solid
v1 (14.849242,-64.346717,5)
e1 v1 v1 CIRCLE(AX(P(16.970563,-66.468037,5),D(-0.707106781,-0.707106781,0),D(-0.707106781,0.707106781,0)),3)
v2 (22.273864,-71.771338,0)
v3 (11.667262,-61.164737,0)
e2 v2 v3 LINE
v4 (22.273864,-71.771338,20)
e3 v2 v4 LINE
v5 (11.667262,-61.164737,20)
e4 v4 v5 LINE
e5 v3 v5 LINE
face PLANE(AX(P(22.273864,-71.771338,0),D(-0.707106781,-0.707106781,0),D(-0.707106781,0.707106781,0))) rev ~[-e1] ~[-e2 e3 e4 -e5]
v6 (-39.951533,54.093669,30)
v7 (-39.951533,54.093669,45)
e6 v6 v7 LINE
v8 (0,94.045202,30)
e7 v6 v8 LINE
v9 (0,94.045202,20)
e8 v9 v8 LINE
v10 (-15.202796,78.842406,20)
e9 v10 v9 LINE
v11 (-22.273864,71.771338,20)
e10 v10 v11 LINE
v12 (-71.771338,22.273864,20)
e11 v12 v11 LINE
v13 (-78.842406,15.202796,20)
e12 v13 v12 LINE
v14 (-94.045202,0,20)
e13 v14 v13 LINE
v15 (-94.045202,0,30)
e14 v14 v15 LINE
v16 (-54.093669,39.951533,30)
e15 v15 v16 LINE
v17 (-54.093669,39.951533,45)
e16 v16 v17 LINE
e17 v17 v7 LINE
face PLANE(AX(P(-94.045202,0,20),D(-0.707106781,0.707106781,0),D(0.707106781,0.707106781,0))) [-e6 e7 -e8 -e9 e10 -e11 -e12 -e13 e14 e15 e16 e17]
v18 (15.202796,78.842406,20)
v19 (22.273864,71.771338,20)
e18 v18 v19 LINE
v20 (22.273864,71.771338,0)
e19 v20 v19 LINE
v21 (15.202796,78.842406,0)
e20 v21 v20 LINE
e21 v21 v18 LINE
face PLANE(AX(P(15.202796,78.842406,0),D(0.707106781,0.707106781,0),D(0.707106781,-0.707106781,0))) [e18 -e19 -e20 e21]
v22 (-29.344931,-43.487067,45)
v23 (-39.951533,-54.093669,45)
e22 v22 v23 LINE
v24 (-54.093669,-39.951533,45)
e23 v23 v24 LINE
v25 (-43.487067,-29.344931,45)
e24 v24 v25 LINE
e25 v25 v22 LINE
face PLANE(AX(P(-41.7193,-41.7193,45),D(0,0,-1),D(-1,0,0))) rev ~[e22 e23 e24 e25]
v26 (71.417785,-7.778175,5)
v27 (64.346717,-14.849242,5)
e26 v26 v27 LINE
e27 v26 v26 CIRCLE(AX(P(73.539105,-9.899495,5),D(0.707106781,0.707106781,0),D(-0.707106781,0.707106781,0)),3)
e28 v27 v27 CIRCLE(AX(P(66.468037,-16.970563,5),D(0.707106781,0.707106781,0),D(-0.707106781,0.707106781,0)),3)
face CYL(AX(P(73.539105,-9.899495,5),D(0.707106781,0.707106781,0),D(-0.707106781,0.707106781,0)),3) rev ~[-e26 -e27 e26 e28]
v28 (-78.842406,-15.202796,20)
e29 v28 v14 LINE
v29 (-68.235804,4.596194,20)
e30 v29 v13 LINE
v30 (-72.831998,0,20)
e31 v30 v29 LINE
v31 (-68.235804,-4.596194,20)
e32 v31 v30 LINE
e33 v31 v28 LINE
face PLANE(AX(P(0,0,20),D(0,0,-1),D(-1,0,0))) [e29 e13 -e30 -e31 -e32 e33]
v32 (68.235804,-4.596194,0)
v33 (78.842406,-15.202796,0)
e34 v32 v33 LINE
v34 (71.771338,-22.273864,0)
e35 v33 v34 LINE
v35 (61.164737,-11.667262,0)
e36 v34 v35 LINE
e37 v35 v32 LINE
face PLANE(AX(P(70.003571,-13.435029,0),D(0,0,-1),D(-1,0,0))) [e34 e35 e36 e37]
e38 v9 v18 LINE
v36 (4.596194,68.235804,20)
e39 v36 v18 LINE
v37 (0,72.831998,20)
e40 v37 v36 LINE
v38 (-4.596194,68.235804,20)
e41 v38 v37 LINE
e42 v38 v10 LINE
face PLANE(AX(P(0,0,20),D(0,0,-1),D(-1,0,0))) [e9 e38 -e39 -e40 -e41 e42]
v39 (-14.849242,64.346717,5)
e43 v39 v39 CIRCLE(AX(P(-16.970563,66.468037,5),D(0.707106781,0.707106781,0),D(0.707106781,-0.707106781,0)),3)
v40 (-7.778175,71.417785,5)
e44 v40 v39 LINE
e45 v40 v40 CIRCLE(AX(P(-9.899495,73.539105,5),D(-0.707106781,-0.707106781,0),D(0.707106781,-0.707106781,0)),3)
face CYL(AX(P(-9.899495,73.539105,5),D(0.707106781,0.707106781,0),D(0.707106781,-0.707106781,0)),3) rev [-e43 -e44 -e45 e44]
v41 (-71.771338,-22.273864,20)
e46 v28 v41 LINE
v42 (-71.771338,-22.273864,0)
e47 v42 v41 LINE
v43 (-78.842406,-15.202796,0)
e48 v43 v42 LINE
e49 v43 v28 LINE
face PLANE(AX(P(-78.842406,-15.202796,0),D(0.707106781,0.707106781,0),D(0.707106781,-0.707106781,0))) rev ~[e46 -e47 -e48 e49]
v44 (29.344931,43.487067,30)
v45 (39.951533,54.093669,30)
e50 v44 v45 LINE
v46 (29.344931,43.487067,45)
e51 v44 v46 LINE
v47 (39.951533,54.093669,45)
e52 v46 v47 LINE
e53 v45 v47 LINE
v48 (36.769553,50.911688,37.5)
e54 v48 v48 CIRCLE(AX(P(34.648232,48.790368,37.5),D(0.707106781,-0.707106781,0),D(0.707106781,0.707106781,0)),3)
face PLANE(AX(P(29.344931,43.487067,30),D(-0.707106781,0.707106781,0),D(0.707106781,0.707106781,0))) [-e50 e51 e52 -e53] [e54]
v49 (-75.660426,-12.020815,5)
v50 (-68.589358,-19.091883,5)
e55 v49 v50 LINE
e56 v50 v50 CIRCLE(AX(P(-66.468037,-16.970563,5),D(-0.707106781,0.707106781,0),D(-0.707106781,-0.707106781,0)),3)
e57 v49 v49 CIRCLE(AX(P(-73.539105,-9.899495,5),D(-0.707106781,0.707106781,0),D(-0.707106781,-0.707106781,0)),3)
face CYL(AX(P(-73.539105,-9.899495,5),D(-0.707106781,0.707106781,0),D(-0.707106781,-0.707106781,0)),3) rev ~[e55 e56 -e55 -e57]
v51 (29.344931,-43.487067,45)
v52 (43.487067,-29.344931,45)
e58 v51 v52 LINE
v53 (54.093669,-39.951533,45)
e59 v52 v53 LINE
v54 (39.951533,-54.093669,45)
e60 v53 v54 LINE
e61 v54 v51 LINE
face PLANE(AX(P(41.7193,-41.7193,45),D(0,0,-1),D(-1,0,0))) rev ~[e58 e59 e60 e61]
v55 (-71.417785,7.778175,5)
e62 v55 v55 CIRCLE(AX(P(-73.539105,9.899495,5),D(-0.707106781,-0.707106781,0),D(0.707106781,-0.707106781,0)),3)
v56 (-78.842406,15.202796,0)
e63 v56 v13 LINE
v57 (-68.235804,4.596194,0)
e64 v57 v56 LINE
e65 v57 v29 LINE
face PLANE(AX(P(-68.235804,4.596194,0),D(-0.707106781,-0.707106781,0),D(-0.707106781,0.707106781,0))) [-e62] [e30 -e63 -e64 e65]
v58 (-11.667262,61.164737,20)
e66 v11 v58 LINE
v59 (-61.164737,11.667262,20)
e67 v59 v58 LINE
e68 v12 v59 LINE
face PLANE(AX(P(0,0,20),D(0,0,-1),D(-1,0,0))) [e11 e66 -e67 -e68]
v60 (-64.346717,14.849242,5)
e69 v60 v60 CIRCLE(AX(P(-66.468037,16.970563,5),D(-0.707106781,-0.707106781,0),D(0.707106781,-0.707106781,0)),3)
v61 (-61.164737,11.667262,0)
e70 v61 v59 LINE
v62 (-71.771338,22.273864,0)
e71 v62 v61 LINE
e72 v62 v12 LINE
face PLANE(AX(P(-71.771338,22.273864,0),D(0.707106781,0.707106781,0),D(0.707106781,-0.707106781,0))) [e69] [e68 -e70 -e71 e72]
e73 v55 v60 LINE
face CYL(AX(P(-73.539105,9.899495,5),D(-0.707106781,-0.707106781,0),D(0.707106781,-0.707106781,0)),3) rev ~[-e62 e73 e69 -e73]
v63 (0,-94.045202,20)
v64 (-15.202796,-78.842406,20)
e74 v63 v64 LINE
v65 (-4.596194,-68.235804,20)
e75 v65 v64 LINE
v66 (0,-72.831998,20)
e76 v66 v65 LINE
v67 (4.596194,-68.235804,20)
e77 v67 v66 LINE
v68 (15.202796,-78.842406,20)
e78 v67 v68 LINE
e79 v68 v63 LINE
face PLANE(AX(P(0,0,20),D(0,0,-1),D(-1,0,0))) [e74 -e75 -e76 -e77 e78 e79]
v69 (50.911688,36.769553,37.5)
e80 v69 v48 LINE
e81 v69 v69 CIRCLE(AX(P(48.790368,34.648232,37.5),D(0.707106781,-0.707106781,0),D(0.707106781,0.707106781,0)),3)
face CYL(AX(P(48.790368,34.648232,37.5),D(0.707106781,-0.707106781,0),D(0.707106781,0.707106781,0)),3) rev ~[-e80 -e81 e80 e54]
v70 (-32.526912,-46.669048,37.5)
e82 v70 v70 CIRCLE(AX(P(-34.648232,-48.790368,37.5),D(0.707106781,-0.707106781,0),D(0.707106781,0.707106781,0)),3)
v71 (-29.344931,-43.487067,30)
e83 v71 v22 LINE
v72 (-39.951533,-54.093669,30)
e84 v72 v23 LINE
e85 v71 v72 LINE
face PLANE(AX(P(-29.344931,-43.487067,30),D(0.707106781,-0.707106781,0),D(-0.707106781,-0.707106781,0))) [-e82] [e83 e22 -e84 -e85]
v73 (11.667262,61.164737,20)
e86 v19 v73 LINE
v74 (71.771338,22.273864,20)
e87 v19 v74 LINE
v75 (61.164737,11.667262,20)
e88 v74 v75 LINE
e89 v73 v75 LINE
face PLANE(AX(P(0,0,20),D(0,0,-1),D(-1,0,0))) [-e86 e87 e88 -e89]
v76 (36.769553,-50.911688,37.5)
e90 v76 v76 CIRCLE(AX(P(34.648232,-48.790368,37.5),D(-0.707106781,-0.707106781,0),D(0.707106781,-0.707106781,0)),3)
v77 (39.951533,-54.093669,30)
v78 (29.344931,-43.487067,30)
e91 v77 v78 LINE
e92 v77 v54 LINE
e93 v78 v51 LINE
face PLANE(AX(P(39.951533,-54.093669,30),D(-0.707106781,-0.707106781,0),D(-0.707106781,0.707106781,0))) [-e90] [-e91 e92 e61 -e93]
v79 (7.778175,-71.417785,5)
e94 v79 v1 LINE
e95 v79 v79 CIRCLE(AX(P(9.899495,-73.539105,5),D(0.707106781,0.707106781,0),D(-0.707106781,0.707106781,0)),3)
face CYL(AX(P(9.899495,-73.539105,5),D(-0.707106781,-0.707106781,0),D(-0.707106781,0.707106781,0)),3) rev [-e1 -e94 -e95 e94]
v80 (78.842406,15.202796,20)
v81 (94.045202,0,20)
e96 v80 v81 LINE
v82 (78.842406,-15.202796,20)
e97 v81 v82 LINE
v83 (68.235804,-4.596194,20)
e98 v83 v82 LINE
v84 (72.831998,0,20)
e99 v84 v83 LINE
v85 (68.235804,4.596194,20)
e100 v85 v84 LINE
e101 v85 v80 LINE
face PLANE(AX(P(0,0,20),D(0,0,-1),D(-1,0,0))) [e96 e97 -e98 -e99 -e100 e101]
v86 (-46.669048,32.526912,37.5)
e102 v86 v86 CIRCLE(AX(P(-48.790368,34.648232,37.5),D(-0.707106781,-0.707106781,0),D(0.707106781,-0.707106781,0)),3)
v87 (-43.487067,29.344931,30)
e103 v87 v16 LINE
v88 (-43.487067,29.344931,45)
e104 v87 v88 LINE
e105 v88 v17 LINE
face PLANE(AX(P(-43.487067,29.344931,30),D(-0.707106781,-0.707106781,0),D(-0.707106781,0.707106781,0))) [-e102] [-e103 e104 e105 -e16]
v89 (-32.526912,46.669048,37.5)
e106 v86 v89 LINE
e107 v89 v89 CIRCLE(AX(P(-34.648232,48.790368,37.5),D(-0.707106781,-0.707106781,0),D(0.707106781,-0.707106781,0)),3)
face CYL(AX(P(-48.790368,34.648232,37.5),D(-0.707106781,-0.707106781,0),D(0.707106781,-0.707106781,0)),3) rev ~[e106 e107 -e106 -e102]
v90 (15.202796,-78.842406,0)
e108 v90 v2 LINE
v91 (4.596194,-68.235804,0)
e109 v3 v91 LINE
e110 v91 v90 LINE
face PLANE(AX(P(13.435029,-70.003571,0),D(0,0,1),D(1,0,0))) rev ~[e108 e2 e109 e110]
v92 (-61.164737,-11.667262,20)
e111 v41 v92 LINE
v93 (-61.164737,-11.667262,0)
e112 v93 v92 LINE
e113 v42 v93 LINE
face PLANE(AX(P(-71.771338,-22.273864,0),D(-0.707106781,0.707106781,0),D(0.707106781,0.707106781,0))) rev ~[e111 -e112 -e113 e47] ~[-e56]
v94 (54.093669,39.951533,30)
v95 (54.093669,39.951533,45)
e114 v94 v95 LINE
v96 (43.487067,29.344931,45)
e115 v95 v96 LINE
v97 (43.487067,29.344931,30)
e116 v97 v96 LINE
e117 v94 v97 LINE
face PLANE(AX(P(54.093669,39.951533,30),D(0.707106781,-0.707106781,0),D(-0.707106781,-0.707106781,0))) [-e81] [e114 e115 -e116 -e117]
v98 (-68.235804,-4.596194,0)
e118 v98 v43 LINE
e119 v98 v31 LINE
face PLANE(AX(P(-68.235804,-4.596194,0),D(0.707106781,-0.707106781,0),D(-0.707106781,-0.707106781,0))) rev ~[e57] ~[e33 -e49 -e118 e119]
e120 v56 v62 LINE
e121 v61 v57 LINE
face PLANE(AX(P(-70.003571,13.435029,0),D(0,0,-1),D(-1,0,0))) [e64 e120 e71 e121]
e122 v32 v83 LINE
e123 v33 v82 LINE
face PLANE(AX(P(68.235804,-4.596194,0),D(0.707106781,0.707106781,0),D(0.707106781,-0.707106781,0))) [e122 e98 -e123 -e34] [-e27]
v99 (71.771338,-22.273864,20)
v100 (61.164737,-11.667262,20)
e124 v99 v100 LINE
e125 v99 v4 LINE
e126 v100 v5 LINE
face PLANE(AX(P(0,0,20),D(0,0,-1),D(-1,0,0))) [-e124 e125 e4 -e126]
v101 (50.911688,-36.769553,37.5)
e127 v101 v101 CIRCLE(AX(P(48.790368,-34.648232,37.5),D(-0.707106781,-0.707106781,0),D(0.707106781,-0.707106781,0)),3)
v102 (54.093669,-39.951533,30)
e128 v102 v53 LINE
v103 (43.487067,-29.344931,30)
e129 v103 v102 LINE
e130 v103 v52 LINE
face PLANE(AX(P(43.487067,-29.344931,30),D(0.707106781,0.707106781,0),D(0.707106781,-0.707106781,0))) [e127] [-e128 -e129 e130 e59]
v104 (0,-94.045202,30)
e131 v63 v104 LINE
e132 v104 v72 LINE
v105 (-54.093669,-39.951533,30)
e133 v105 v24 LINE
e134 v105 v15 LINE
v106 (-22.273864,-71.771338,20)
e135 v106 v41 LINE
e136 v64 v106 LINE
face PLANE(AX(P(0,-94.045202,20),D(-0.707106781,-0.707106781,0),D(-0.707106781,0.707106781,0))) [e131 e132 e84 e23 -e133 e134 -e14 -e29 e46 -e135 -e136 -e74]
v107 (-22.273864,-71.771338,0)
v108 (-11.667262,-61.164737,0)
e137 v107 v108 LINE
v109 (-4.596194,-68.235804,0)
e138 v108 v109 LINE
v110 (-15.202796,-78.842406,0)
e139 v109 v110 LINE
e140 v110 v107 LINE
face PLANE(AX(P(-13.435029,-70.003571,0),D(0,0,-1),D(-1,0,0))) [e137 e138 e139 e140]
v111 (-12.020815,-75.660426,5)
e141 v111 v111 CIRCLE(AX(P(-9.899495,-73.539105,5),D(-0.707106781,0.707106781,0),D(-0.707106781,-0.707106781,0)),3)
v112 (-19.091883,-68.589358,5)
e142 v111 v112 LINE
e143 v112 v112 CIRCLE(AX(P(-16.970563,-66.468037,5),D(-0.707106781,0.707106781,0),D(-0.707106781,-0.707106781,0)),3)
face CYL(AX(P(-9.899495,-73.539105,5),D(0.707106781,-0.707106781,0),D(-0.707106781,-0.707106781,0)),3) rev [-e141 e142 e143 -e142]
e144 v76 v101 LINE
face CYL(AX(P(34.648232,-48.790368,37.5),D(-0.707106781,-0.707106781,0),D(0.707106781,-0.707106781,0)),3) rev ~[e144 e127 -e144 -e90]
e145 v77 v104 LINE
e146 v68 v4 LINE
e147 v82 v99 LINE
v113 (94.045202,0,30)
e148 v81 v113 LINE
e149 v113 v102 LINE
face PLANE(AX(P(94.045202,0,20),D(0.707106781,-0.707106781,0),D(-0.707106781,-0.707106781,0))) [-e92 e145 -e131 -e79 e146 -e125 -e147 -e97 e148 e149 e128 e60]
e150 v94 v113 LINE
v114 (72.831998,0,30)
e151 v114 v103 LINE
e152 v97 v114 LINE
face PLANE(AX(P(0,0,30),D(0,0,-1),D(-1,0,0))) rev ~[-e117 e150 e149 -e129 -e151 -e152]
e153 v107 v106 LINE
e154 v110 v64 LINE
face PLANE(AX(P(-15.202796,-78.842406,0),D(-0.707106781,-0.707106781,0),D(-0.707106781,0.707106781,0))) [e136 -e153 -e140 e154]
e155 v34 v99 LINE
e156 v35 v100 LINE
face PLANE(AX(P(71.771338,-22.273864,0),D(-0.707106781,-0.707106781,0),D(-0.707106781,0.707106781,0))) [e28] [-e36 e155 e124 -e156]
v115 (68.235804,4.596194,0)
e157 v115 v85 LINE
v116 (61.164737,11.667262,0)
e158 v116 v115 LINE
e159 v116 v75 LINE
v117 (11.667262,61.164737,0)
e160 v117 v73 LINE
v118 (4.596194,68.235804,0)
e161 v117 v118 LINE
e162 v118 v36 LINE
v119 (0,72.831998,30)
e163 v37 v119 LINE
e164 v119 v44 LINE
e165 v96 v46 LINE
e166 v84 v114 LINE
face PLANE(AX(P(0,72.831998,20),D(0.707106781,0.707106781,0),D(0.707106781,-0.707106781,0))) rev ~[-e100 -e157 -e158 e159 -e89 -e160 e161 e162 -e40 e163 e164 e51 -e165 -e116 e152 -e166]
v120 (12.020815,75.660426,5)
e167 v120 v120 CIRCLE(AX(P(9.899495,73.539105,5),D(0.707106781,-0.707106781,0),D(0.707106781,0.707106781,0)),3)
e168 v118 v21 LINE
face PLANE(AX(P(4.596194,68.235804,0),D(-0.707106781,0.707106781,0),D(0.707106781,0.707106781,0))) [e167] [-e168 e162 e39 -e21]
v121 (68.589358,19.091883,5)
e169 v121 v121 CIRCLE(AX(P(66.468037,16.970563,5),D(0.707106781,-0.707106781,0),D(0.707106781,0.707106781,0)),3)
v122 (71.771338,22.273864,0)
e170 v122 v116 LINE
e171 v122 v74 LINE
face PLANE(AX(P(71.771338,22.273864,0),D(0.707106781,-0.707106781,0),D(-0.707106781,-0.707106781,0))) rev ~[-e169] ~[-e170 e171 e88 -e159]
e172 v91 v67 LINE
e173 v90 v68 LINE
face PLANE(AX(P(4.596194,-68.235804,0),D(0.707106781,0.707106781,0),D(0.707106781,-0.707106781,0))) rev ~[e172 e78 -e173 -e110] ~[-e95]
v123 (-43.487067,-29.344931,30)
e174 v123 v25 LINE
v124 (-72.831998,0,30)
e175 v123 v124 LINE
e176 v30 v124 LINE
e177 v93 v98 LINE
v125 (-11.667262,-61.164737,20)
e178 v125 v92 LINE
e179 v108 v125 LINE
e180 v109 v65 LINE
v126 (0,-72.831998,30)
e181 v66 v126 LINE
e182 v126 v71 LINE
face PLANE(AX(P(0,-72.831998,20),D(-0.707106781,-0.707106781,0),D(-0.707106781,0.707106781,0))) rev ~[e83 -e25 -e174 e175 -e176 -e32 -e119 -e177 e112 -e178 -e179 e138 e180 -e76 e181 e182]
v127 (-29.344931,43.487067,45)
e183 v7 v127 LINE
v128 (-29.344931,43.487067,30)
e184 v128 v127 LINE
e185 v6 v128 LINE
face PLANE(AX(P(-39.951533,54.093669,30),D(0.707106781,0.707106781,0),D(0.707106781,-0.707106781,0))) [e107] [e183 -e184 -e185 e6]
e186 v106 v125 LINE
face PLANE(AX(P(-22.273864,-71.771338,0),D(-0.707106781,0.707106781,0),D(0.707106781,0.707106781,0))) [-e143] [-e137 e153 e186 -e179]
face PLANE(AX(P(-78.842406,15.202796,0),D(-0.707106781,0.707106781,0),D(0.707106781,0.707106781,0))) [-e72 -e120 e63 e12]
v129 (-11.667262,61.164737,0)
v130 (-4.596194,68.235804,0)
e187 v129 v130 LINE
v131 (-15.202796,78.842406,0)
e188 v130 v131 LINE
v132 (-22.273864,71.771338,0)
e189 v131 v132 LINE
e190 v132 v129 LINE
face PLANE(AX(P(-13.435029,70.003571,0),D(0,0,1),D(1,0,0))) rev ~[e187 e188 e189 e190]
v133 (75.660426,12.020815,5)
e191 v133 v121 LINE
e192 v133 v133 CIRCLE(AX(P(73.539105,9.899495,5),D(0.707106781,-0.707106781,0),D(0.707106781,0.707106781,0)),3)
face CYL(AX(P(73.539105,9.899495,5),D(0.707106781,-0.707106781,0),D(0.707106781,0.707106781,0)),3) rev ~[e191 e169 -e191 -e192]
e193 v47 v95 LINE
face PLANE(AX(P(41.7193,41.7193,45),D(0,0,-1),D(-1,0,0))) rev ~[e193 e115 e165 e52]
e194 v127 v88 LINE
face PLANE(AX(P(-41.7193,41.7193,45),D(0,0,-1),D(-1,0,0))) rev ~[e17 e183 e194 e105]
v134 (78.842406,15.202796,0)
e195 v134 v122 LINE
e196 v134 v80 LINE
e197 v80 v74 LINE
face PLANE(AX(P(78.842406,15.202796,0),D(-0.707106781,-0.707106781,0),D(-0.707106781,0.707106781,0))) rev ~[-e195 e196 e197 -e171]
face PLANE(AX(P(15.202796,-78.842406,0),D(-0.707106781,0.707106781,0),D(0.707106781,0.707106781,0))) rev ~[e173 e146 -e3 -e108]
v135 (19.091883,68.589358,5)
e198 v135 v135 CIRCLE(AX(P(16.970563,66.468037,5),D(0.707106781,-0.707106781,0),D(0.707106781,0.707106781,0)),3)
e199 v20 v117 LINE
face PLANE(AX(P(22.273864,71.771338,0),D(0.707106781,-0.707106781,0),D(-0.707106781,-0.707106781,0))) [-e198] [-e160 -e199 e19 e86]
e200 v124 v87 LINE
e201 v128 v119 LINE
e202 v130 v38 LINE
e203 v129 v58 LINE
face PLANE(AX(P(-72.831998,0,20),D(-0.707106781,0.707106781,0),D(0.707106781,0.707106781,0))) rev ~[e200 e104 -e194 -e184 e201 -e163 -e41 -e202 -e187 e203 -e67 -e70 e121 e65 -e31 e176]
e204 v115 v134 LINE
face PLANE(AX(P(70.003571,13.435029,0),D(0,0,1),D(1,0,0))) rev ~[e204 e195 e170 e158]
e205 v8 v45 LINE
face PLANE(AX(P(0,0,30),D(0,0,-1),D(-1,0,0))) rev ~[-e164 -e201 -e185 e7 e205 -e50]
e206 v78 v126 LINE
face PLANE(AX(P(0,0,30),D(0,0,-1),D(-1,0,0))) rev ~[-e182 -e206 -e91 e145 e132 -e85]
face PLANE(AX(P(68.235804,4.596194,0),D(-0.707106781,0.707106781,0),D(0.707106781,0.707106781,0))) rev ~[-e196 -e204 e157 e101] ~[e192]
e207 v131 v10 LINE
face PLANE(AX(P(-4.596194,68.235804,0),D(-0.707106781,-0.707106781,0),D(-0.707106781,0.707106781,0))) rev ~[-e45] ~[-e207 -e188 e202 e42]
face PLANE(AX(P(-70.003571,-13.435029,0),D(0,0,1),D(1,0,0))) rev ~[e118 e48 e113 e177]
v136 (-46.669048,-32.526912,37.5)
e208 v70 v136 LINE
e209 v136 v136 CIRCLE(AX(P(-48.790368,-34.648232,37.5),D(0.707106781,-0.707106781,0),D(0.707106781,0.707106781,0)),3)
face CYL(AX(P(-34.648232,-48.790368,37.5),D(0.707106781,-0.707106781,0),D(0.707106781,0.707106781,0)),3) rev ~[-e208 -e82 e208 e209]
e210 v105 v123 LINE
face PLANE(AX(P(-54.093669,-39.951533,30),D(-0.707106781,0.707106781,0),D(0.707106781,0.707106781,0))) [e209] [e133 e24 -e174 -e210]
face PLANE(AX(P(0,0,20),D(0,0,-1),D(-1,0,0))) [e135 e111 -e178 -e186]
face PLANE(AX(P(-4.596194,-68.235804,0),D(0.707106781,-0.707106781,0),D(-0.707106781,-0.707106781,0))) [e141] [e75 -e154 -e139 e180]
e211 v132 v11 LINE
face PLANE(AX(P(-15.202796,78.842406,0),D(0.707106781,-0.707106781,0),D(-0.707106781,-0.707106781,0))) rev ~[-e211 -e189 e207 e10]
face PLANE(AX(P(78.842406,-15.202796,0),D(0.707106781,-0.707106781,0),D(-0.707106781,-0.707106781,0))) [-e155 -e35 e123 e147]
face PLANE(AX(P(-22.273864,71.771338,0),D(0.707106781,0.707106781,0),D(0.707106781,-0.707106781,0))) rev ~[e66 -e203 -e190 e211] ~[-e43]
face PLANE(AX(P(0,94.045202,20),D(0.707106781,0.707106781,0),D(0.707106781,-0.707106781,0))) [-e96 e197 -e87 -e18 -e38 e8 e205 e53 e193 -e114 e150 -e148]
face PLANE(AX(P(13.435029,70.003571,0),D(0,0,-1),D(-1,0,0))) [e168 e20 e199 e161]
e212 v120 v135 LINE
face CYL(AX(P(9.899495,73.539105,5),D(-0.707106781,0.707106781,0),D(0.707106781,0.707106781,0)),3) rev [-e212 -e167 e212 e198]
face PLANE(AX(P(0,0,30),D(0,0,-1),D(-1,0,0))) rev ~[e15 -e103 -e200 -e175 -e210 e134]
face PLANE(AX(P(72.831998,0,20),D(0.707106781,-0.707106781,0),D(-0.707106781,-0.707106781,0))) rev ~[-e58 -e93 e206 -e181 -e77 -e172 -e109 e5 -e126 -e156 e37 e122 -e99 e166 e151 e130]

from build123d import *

# Parameters (mm, degrees)
SALIENTE_EXTRUIR1_DEPTH   = 20
SALIENTE_EXTRUIR1_2_DEPTH = 20
SALIENTE_EXTRUIR1_3_DEPTH = 20
SALIENTE_EXTRUIR1_4_DEPTH = 20
SALIENTE_EXTRUIR1_5_DEPTH = 20
SALIENTE_EXTRUIR1_6_DEPTH = 20
SALIENTE_EXTRUIR1_7_DEPTH = 20
SALIENTE_EXTRUIR1_8_DEPTH = 20
SALIENTE_EXTRUIR2_DEPTH   = 10
CROQUIS7_R                = 3
CORTAR_EXTRUIR2_DEPTH     = 80
CROQUIS8_R                = 3
CORTAR_EXTRUIR3_DEPTH     = 10
SIMETR_A4_COPY_1_SKETCH_R = 3
SIMETR_A4_COPY_1_DEPTH    = 80
SIMETR_A4_COPY_2_SKETCH_R = 3
SIMETR_A4_COPY_2_DEPTH    = 10
SALIENTE_EXTRUIR3_DEPTH   = 15
CROQUIS11_R               = 3
CORTAR_EXTRUIR4_DEPTH     = 150.913308282
CROQUIS13_R               = 3
CORTAR_EXTRUIR5_DEPTH     = 150.913308282


with BuildPart() as part:
    # Croquis1 → Saliente-Extruir1 (new body)
    with BuildSketch(Plane.XY):
        Polygon((-71.77133829, 22.273863607), (-61.164736573, 11.66726189), (-68.235804385, 4.596194078), (-78.842406102, 15.202795796), align=None)
    extrude(amount=SALIENTE_EXTRUIR1_DEPTH)



with BuildPart() as body_2:
    # Croquis1 → Saliente-Extruir1 2 (new body)
    with BuildSketch(Plane.XY):
        Polygon((-11.66726189, 61.164736573), (-4.596194078, 68.235804385), (-15.202795796, 78.842406102), (-22.273863607, 71.77133829), align=None)
    extrude(amount=SALIENTE_EXTRUIR1_2_DEPTH)


with BuildPart() as body_3:
    # Croquis1 → Saliente-Extruir1 3 (new body)
    with BuildSketch(Plane.XY):
        Polygon((22.273863607, 71.77133829), (11.66726189, 61.164736573), (4.596194078, 68.235804385), (15.202795796, 78.842406102), align=None)
    extrude(amount=SALIENTE_EXTRUIR1_3_DEPTH)


with BuildPart() as body_4:
    # Croquis1 → Saliente-Extruir1 4 (new body)
    with BuildSketch(Plane.XY):
        Polygon((61.164736573, 11.66726189), (68.235804385, 4.596194078), (78.842406102, 15.202795796), (71.77133829, 22.273863607), align=None)
    extrude(amount=SALIENTE_EXTRUIR1_4_DEPTH)


with BuildPart() as body_5:
    # Croquis1 → Saliente-Extruir1 5 (new body)
    with BuildSketch(Plane.XY):
        Polygon((71.77133829, -22.273863607), (61.164736573, -11.66726189), (68.235804385, -4.596194078), (78.842406102, -15.202795796), align=None)
    extrude(amount=SALIENTE_EXTRUIR1_5_DEPTH)


with BuildPart() as body_6:
    # Croquis1 → Saliente-Extruir1 6 (new body)
    with BuildSketch(Plane.XY):
        Polygon((11.66726189, -61.164736573), (4.596194078, -68.235804385), (15.202795796, -78.842406102), (22.273863607, -71.77133829), align=None)
    extrude(amount=SALIENTE_EXTRUIR1_6_DEPTH)


with BuildPart() as body_7:
    # Croquis1 → Saliente-Extruir1 7 (new body)
    with BuildSketch(Plane.XY):
        Polygon((-22.273863607, -71.77133829), (-11.66726189, -61.164736573), (-4.596194078, -68.235804385), (-15.202795796, -78.842406102), align=None)
    extrude(amount=SALIENTE_EXTRUIR1_7_DEPTH)


with BuildPart() as body_8:
    # Croquis1 → Saliente-Extruir1 8 (new body)
    with BuildSketch(Plane.XY):
        Polygon((-61.164736573, -11.66726189), (-68.235804385, -4.596194078), (-78.842406102, -15.202795796), (-71.77133829, -22.273863607), align=None)
    extrude(amount=SALIENTE_EXTRUIR1_8_DEPTH)


with BuildPart() as part_1:
    add(part.part)

    add(body_2.part)  # Saliente-Extruir2 merges body 2

    add(body_3.part)  # Saliente-Extruir2 merges body 3

    add(body_4.part)  # Saliente-Extruir2 merges body 4

    add(body_5.part)  # Saliente-Extruir2 merges body 5

    add(body_6.part)  # Saliente-Extruir2 merges body 6

    add(body_7.part)  # Saliente-Extruir2 merges body 7

    add(body_8.part)  # Saliente-Extruir2 merges body 8
    # Croquis2 → Saliente-Extruir2 (add)
    with BuildSketch(Plane.XY.offset(20)):
        Polygon((0, 94.045201898), (94.045201898, 0), (0, -94.045201898), (-94.045201898, 0), align=None)
        Polygon((0, 72.831998462), (72.831998462, 0), (0, -72.831998462), (-72.831998462, 0), align=None, mode=Mode.SUBTRACT)
    extrude(amount=SALIENTE_EXTRUIR2_DEPTH)

    # Croquis7 → Cortar-Extruir2 (cut)
    with BuildSketch(Plane(origin=(31.819805153, 31.819805153, 0), x_dir=(0, 0, -1), z_dir=(0.7071067811865476, 0.7071067811865476, 0))):
        with Locations(Location((-5, -59, 0), (0, 0, 90))):
            Circle(CROQUIS7_R)
    cortar_extruir2 = extrude(amount=-CORTAR_EXTRUIR2_DEPTH, mode=Mode.SUBTRACT)

    # Croquis8 → Cortar-Extruir3 (cut)
    with BuildSketch(Plane(origin=(31.819805153, -31.819805153, 0), x_dir=(0, 0, -1), z_dir=(0.7071067811865481, -0.707106781186547, 0))):
        with Locations(Location((-5, 59, 0), (0, 0, 90))):
            Circle(CROQUIS8_R)
    cortar_extruir3 = extrude(amount=-CORTAR_EXTRUIR3_DEPTH, mode=Mode.SUBTRACT)

    # Simetría3: Cortar-Extruir2, Cortar-Extruir3 across plane
    add(cortar_extruir2.mirror(Plane(origin=(0, 0, 0), x_dir=(0, 0, 1), z_dir=(0.7071067811865481, -0.707106781186547, 0))), mode=Mode.SUBTRACT)
    add(cortar_extruir3.mirror(Plane(origin=(0, 0, 0), x_dir=(0, 0, 1), z_dir=(0.7071067811865481, -0.707106781186547, 0))), mode=Mode.SUBTRACT)

    # Simetría4: Cortar-Extruir2, Cortar-Extruir3 across plane
    add(cortar_extruir2.mirror(Plane(origin=(0, 0, 0), x_dir=(0, 0, 1), z_dir=(-0.7071067811865477, -0.7071067811865475, 0))), mode=Mode.SUBTRACT)
    add(cortar_extruir3.mirror(Plane(origin=(0, 0, 0), x_dir=(0, 0, 1), z_dir=(-0.7071067811865477, -0.7071067811865475, 0))), mode=Mode.SUBTRACT)

    # Simetría4 copy 1 sketch → Simetría4 copy 1 (cut)
    with BuildSketch(Plane(origin=(-31.819805153, -31.819805153, 0), x_dir=(0, 0, -1), z_dir=(-0.7071067811865492, -0.7071067811865465, 0))):
        with Locations(Location((-5, -59, 0), (0, 0, 90))):
            Circle(SIMETR_A4_COPY_1_SKETCH_R)
    extrude(amount=-SIMETR_A4_COPY_1_DEPTH, mode=Mode.SUBTRACT)

    # Simetría4 copy 2 sketch → Simetría4 copy 2 (cut)
    with BuildSketch(Plane(origin=(-31.819805153, 31.819805153, 0), x_dir=(0, 0, -1), z_dir=(-0.7071067811865471, 0.7071067811865488, 0))):
        with Locations(Location((-5, 59, 0), (0, 0, 90))):
            Circle(SIMETR_A4_COPY_2_SKETCH_R)
    extrude(amount=-SIMETR_A4_COPY_2_DEPTH, mode=Mode.SUBTRACT)

    # Croquis10 → Saliente-Extruir3 (add)
    with BuildSketch(Plane.XY.offset(30)):
        Polygon((29.344931419, 43.487067043), (39.951533137, 54.093668761), (54.093668761, 39.951533137), (43.487067043, 29.344931419), align=None)
        Polygon((43.487067043, -29.344931419), (54.093668761, -39.951533137), (39.951533137, -54.093668761), (29.344931419, -43.487067043), align=None)
        Polygon((-29.344931419, -43.487067043), (-39.951533137, -54.093668761), (-54.093668761, -39.951533137), (-43.487067043, -29.344931419), align=None)
        Polygon((-43.487067043, 29.344931419), (-54.093668761, 39.951533137), (-39.951533137, 54.093668761), (-29.344931419, 43.487067043), align=None)
    extrude(amount=SALIENTE_EXTRUIR3_DEPTH)

    # Croquis11 → Cortar-Extruir4 (cut, through all)
    with BuildSketch(Plane(origin=(7.071067812, -7.071067812, 0), x_dir=(0, 0, -1), z_dir=(0.7071067811865481, -0.707106781186547, 0))):
        with Locations(Location((-37.5, 59, 0), (0, 0, 90))):
            Circle(CROQUIS11_R)
        with Locations(Location((-37.5, -59, 0), (0, 0, 90))):
            Circle(CROQUIS11_R)
    extrude(amount=-CORTAR_EXTRUIR4_DEPTH, mode=Mode.SUBTRACT)

    # Croquis13 → Cortar-Extruir5 (cut, through all)
    with BuildSketch(Plane(origin=(-7.071067812, -7.071067812, 0), x_dir=(0, 0, 1), z_dir=(-0.707106781186549, -0.707106781186546, 0))):
        with Locations(Location((37.5, -59, 0), (0, 0, 270))):
            Circle(CROQUIS13_R)
        with Locations(Location((37.5, 59, 0), (0, 0, 270))):
            Circle(CROQUIS13_R)
    extrude(amount=-CORTAR_EXTRUIR5_DEPTH, mode=Mode.SUBTRACT)


solid = part_1.part
